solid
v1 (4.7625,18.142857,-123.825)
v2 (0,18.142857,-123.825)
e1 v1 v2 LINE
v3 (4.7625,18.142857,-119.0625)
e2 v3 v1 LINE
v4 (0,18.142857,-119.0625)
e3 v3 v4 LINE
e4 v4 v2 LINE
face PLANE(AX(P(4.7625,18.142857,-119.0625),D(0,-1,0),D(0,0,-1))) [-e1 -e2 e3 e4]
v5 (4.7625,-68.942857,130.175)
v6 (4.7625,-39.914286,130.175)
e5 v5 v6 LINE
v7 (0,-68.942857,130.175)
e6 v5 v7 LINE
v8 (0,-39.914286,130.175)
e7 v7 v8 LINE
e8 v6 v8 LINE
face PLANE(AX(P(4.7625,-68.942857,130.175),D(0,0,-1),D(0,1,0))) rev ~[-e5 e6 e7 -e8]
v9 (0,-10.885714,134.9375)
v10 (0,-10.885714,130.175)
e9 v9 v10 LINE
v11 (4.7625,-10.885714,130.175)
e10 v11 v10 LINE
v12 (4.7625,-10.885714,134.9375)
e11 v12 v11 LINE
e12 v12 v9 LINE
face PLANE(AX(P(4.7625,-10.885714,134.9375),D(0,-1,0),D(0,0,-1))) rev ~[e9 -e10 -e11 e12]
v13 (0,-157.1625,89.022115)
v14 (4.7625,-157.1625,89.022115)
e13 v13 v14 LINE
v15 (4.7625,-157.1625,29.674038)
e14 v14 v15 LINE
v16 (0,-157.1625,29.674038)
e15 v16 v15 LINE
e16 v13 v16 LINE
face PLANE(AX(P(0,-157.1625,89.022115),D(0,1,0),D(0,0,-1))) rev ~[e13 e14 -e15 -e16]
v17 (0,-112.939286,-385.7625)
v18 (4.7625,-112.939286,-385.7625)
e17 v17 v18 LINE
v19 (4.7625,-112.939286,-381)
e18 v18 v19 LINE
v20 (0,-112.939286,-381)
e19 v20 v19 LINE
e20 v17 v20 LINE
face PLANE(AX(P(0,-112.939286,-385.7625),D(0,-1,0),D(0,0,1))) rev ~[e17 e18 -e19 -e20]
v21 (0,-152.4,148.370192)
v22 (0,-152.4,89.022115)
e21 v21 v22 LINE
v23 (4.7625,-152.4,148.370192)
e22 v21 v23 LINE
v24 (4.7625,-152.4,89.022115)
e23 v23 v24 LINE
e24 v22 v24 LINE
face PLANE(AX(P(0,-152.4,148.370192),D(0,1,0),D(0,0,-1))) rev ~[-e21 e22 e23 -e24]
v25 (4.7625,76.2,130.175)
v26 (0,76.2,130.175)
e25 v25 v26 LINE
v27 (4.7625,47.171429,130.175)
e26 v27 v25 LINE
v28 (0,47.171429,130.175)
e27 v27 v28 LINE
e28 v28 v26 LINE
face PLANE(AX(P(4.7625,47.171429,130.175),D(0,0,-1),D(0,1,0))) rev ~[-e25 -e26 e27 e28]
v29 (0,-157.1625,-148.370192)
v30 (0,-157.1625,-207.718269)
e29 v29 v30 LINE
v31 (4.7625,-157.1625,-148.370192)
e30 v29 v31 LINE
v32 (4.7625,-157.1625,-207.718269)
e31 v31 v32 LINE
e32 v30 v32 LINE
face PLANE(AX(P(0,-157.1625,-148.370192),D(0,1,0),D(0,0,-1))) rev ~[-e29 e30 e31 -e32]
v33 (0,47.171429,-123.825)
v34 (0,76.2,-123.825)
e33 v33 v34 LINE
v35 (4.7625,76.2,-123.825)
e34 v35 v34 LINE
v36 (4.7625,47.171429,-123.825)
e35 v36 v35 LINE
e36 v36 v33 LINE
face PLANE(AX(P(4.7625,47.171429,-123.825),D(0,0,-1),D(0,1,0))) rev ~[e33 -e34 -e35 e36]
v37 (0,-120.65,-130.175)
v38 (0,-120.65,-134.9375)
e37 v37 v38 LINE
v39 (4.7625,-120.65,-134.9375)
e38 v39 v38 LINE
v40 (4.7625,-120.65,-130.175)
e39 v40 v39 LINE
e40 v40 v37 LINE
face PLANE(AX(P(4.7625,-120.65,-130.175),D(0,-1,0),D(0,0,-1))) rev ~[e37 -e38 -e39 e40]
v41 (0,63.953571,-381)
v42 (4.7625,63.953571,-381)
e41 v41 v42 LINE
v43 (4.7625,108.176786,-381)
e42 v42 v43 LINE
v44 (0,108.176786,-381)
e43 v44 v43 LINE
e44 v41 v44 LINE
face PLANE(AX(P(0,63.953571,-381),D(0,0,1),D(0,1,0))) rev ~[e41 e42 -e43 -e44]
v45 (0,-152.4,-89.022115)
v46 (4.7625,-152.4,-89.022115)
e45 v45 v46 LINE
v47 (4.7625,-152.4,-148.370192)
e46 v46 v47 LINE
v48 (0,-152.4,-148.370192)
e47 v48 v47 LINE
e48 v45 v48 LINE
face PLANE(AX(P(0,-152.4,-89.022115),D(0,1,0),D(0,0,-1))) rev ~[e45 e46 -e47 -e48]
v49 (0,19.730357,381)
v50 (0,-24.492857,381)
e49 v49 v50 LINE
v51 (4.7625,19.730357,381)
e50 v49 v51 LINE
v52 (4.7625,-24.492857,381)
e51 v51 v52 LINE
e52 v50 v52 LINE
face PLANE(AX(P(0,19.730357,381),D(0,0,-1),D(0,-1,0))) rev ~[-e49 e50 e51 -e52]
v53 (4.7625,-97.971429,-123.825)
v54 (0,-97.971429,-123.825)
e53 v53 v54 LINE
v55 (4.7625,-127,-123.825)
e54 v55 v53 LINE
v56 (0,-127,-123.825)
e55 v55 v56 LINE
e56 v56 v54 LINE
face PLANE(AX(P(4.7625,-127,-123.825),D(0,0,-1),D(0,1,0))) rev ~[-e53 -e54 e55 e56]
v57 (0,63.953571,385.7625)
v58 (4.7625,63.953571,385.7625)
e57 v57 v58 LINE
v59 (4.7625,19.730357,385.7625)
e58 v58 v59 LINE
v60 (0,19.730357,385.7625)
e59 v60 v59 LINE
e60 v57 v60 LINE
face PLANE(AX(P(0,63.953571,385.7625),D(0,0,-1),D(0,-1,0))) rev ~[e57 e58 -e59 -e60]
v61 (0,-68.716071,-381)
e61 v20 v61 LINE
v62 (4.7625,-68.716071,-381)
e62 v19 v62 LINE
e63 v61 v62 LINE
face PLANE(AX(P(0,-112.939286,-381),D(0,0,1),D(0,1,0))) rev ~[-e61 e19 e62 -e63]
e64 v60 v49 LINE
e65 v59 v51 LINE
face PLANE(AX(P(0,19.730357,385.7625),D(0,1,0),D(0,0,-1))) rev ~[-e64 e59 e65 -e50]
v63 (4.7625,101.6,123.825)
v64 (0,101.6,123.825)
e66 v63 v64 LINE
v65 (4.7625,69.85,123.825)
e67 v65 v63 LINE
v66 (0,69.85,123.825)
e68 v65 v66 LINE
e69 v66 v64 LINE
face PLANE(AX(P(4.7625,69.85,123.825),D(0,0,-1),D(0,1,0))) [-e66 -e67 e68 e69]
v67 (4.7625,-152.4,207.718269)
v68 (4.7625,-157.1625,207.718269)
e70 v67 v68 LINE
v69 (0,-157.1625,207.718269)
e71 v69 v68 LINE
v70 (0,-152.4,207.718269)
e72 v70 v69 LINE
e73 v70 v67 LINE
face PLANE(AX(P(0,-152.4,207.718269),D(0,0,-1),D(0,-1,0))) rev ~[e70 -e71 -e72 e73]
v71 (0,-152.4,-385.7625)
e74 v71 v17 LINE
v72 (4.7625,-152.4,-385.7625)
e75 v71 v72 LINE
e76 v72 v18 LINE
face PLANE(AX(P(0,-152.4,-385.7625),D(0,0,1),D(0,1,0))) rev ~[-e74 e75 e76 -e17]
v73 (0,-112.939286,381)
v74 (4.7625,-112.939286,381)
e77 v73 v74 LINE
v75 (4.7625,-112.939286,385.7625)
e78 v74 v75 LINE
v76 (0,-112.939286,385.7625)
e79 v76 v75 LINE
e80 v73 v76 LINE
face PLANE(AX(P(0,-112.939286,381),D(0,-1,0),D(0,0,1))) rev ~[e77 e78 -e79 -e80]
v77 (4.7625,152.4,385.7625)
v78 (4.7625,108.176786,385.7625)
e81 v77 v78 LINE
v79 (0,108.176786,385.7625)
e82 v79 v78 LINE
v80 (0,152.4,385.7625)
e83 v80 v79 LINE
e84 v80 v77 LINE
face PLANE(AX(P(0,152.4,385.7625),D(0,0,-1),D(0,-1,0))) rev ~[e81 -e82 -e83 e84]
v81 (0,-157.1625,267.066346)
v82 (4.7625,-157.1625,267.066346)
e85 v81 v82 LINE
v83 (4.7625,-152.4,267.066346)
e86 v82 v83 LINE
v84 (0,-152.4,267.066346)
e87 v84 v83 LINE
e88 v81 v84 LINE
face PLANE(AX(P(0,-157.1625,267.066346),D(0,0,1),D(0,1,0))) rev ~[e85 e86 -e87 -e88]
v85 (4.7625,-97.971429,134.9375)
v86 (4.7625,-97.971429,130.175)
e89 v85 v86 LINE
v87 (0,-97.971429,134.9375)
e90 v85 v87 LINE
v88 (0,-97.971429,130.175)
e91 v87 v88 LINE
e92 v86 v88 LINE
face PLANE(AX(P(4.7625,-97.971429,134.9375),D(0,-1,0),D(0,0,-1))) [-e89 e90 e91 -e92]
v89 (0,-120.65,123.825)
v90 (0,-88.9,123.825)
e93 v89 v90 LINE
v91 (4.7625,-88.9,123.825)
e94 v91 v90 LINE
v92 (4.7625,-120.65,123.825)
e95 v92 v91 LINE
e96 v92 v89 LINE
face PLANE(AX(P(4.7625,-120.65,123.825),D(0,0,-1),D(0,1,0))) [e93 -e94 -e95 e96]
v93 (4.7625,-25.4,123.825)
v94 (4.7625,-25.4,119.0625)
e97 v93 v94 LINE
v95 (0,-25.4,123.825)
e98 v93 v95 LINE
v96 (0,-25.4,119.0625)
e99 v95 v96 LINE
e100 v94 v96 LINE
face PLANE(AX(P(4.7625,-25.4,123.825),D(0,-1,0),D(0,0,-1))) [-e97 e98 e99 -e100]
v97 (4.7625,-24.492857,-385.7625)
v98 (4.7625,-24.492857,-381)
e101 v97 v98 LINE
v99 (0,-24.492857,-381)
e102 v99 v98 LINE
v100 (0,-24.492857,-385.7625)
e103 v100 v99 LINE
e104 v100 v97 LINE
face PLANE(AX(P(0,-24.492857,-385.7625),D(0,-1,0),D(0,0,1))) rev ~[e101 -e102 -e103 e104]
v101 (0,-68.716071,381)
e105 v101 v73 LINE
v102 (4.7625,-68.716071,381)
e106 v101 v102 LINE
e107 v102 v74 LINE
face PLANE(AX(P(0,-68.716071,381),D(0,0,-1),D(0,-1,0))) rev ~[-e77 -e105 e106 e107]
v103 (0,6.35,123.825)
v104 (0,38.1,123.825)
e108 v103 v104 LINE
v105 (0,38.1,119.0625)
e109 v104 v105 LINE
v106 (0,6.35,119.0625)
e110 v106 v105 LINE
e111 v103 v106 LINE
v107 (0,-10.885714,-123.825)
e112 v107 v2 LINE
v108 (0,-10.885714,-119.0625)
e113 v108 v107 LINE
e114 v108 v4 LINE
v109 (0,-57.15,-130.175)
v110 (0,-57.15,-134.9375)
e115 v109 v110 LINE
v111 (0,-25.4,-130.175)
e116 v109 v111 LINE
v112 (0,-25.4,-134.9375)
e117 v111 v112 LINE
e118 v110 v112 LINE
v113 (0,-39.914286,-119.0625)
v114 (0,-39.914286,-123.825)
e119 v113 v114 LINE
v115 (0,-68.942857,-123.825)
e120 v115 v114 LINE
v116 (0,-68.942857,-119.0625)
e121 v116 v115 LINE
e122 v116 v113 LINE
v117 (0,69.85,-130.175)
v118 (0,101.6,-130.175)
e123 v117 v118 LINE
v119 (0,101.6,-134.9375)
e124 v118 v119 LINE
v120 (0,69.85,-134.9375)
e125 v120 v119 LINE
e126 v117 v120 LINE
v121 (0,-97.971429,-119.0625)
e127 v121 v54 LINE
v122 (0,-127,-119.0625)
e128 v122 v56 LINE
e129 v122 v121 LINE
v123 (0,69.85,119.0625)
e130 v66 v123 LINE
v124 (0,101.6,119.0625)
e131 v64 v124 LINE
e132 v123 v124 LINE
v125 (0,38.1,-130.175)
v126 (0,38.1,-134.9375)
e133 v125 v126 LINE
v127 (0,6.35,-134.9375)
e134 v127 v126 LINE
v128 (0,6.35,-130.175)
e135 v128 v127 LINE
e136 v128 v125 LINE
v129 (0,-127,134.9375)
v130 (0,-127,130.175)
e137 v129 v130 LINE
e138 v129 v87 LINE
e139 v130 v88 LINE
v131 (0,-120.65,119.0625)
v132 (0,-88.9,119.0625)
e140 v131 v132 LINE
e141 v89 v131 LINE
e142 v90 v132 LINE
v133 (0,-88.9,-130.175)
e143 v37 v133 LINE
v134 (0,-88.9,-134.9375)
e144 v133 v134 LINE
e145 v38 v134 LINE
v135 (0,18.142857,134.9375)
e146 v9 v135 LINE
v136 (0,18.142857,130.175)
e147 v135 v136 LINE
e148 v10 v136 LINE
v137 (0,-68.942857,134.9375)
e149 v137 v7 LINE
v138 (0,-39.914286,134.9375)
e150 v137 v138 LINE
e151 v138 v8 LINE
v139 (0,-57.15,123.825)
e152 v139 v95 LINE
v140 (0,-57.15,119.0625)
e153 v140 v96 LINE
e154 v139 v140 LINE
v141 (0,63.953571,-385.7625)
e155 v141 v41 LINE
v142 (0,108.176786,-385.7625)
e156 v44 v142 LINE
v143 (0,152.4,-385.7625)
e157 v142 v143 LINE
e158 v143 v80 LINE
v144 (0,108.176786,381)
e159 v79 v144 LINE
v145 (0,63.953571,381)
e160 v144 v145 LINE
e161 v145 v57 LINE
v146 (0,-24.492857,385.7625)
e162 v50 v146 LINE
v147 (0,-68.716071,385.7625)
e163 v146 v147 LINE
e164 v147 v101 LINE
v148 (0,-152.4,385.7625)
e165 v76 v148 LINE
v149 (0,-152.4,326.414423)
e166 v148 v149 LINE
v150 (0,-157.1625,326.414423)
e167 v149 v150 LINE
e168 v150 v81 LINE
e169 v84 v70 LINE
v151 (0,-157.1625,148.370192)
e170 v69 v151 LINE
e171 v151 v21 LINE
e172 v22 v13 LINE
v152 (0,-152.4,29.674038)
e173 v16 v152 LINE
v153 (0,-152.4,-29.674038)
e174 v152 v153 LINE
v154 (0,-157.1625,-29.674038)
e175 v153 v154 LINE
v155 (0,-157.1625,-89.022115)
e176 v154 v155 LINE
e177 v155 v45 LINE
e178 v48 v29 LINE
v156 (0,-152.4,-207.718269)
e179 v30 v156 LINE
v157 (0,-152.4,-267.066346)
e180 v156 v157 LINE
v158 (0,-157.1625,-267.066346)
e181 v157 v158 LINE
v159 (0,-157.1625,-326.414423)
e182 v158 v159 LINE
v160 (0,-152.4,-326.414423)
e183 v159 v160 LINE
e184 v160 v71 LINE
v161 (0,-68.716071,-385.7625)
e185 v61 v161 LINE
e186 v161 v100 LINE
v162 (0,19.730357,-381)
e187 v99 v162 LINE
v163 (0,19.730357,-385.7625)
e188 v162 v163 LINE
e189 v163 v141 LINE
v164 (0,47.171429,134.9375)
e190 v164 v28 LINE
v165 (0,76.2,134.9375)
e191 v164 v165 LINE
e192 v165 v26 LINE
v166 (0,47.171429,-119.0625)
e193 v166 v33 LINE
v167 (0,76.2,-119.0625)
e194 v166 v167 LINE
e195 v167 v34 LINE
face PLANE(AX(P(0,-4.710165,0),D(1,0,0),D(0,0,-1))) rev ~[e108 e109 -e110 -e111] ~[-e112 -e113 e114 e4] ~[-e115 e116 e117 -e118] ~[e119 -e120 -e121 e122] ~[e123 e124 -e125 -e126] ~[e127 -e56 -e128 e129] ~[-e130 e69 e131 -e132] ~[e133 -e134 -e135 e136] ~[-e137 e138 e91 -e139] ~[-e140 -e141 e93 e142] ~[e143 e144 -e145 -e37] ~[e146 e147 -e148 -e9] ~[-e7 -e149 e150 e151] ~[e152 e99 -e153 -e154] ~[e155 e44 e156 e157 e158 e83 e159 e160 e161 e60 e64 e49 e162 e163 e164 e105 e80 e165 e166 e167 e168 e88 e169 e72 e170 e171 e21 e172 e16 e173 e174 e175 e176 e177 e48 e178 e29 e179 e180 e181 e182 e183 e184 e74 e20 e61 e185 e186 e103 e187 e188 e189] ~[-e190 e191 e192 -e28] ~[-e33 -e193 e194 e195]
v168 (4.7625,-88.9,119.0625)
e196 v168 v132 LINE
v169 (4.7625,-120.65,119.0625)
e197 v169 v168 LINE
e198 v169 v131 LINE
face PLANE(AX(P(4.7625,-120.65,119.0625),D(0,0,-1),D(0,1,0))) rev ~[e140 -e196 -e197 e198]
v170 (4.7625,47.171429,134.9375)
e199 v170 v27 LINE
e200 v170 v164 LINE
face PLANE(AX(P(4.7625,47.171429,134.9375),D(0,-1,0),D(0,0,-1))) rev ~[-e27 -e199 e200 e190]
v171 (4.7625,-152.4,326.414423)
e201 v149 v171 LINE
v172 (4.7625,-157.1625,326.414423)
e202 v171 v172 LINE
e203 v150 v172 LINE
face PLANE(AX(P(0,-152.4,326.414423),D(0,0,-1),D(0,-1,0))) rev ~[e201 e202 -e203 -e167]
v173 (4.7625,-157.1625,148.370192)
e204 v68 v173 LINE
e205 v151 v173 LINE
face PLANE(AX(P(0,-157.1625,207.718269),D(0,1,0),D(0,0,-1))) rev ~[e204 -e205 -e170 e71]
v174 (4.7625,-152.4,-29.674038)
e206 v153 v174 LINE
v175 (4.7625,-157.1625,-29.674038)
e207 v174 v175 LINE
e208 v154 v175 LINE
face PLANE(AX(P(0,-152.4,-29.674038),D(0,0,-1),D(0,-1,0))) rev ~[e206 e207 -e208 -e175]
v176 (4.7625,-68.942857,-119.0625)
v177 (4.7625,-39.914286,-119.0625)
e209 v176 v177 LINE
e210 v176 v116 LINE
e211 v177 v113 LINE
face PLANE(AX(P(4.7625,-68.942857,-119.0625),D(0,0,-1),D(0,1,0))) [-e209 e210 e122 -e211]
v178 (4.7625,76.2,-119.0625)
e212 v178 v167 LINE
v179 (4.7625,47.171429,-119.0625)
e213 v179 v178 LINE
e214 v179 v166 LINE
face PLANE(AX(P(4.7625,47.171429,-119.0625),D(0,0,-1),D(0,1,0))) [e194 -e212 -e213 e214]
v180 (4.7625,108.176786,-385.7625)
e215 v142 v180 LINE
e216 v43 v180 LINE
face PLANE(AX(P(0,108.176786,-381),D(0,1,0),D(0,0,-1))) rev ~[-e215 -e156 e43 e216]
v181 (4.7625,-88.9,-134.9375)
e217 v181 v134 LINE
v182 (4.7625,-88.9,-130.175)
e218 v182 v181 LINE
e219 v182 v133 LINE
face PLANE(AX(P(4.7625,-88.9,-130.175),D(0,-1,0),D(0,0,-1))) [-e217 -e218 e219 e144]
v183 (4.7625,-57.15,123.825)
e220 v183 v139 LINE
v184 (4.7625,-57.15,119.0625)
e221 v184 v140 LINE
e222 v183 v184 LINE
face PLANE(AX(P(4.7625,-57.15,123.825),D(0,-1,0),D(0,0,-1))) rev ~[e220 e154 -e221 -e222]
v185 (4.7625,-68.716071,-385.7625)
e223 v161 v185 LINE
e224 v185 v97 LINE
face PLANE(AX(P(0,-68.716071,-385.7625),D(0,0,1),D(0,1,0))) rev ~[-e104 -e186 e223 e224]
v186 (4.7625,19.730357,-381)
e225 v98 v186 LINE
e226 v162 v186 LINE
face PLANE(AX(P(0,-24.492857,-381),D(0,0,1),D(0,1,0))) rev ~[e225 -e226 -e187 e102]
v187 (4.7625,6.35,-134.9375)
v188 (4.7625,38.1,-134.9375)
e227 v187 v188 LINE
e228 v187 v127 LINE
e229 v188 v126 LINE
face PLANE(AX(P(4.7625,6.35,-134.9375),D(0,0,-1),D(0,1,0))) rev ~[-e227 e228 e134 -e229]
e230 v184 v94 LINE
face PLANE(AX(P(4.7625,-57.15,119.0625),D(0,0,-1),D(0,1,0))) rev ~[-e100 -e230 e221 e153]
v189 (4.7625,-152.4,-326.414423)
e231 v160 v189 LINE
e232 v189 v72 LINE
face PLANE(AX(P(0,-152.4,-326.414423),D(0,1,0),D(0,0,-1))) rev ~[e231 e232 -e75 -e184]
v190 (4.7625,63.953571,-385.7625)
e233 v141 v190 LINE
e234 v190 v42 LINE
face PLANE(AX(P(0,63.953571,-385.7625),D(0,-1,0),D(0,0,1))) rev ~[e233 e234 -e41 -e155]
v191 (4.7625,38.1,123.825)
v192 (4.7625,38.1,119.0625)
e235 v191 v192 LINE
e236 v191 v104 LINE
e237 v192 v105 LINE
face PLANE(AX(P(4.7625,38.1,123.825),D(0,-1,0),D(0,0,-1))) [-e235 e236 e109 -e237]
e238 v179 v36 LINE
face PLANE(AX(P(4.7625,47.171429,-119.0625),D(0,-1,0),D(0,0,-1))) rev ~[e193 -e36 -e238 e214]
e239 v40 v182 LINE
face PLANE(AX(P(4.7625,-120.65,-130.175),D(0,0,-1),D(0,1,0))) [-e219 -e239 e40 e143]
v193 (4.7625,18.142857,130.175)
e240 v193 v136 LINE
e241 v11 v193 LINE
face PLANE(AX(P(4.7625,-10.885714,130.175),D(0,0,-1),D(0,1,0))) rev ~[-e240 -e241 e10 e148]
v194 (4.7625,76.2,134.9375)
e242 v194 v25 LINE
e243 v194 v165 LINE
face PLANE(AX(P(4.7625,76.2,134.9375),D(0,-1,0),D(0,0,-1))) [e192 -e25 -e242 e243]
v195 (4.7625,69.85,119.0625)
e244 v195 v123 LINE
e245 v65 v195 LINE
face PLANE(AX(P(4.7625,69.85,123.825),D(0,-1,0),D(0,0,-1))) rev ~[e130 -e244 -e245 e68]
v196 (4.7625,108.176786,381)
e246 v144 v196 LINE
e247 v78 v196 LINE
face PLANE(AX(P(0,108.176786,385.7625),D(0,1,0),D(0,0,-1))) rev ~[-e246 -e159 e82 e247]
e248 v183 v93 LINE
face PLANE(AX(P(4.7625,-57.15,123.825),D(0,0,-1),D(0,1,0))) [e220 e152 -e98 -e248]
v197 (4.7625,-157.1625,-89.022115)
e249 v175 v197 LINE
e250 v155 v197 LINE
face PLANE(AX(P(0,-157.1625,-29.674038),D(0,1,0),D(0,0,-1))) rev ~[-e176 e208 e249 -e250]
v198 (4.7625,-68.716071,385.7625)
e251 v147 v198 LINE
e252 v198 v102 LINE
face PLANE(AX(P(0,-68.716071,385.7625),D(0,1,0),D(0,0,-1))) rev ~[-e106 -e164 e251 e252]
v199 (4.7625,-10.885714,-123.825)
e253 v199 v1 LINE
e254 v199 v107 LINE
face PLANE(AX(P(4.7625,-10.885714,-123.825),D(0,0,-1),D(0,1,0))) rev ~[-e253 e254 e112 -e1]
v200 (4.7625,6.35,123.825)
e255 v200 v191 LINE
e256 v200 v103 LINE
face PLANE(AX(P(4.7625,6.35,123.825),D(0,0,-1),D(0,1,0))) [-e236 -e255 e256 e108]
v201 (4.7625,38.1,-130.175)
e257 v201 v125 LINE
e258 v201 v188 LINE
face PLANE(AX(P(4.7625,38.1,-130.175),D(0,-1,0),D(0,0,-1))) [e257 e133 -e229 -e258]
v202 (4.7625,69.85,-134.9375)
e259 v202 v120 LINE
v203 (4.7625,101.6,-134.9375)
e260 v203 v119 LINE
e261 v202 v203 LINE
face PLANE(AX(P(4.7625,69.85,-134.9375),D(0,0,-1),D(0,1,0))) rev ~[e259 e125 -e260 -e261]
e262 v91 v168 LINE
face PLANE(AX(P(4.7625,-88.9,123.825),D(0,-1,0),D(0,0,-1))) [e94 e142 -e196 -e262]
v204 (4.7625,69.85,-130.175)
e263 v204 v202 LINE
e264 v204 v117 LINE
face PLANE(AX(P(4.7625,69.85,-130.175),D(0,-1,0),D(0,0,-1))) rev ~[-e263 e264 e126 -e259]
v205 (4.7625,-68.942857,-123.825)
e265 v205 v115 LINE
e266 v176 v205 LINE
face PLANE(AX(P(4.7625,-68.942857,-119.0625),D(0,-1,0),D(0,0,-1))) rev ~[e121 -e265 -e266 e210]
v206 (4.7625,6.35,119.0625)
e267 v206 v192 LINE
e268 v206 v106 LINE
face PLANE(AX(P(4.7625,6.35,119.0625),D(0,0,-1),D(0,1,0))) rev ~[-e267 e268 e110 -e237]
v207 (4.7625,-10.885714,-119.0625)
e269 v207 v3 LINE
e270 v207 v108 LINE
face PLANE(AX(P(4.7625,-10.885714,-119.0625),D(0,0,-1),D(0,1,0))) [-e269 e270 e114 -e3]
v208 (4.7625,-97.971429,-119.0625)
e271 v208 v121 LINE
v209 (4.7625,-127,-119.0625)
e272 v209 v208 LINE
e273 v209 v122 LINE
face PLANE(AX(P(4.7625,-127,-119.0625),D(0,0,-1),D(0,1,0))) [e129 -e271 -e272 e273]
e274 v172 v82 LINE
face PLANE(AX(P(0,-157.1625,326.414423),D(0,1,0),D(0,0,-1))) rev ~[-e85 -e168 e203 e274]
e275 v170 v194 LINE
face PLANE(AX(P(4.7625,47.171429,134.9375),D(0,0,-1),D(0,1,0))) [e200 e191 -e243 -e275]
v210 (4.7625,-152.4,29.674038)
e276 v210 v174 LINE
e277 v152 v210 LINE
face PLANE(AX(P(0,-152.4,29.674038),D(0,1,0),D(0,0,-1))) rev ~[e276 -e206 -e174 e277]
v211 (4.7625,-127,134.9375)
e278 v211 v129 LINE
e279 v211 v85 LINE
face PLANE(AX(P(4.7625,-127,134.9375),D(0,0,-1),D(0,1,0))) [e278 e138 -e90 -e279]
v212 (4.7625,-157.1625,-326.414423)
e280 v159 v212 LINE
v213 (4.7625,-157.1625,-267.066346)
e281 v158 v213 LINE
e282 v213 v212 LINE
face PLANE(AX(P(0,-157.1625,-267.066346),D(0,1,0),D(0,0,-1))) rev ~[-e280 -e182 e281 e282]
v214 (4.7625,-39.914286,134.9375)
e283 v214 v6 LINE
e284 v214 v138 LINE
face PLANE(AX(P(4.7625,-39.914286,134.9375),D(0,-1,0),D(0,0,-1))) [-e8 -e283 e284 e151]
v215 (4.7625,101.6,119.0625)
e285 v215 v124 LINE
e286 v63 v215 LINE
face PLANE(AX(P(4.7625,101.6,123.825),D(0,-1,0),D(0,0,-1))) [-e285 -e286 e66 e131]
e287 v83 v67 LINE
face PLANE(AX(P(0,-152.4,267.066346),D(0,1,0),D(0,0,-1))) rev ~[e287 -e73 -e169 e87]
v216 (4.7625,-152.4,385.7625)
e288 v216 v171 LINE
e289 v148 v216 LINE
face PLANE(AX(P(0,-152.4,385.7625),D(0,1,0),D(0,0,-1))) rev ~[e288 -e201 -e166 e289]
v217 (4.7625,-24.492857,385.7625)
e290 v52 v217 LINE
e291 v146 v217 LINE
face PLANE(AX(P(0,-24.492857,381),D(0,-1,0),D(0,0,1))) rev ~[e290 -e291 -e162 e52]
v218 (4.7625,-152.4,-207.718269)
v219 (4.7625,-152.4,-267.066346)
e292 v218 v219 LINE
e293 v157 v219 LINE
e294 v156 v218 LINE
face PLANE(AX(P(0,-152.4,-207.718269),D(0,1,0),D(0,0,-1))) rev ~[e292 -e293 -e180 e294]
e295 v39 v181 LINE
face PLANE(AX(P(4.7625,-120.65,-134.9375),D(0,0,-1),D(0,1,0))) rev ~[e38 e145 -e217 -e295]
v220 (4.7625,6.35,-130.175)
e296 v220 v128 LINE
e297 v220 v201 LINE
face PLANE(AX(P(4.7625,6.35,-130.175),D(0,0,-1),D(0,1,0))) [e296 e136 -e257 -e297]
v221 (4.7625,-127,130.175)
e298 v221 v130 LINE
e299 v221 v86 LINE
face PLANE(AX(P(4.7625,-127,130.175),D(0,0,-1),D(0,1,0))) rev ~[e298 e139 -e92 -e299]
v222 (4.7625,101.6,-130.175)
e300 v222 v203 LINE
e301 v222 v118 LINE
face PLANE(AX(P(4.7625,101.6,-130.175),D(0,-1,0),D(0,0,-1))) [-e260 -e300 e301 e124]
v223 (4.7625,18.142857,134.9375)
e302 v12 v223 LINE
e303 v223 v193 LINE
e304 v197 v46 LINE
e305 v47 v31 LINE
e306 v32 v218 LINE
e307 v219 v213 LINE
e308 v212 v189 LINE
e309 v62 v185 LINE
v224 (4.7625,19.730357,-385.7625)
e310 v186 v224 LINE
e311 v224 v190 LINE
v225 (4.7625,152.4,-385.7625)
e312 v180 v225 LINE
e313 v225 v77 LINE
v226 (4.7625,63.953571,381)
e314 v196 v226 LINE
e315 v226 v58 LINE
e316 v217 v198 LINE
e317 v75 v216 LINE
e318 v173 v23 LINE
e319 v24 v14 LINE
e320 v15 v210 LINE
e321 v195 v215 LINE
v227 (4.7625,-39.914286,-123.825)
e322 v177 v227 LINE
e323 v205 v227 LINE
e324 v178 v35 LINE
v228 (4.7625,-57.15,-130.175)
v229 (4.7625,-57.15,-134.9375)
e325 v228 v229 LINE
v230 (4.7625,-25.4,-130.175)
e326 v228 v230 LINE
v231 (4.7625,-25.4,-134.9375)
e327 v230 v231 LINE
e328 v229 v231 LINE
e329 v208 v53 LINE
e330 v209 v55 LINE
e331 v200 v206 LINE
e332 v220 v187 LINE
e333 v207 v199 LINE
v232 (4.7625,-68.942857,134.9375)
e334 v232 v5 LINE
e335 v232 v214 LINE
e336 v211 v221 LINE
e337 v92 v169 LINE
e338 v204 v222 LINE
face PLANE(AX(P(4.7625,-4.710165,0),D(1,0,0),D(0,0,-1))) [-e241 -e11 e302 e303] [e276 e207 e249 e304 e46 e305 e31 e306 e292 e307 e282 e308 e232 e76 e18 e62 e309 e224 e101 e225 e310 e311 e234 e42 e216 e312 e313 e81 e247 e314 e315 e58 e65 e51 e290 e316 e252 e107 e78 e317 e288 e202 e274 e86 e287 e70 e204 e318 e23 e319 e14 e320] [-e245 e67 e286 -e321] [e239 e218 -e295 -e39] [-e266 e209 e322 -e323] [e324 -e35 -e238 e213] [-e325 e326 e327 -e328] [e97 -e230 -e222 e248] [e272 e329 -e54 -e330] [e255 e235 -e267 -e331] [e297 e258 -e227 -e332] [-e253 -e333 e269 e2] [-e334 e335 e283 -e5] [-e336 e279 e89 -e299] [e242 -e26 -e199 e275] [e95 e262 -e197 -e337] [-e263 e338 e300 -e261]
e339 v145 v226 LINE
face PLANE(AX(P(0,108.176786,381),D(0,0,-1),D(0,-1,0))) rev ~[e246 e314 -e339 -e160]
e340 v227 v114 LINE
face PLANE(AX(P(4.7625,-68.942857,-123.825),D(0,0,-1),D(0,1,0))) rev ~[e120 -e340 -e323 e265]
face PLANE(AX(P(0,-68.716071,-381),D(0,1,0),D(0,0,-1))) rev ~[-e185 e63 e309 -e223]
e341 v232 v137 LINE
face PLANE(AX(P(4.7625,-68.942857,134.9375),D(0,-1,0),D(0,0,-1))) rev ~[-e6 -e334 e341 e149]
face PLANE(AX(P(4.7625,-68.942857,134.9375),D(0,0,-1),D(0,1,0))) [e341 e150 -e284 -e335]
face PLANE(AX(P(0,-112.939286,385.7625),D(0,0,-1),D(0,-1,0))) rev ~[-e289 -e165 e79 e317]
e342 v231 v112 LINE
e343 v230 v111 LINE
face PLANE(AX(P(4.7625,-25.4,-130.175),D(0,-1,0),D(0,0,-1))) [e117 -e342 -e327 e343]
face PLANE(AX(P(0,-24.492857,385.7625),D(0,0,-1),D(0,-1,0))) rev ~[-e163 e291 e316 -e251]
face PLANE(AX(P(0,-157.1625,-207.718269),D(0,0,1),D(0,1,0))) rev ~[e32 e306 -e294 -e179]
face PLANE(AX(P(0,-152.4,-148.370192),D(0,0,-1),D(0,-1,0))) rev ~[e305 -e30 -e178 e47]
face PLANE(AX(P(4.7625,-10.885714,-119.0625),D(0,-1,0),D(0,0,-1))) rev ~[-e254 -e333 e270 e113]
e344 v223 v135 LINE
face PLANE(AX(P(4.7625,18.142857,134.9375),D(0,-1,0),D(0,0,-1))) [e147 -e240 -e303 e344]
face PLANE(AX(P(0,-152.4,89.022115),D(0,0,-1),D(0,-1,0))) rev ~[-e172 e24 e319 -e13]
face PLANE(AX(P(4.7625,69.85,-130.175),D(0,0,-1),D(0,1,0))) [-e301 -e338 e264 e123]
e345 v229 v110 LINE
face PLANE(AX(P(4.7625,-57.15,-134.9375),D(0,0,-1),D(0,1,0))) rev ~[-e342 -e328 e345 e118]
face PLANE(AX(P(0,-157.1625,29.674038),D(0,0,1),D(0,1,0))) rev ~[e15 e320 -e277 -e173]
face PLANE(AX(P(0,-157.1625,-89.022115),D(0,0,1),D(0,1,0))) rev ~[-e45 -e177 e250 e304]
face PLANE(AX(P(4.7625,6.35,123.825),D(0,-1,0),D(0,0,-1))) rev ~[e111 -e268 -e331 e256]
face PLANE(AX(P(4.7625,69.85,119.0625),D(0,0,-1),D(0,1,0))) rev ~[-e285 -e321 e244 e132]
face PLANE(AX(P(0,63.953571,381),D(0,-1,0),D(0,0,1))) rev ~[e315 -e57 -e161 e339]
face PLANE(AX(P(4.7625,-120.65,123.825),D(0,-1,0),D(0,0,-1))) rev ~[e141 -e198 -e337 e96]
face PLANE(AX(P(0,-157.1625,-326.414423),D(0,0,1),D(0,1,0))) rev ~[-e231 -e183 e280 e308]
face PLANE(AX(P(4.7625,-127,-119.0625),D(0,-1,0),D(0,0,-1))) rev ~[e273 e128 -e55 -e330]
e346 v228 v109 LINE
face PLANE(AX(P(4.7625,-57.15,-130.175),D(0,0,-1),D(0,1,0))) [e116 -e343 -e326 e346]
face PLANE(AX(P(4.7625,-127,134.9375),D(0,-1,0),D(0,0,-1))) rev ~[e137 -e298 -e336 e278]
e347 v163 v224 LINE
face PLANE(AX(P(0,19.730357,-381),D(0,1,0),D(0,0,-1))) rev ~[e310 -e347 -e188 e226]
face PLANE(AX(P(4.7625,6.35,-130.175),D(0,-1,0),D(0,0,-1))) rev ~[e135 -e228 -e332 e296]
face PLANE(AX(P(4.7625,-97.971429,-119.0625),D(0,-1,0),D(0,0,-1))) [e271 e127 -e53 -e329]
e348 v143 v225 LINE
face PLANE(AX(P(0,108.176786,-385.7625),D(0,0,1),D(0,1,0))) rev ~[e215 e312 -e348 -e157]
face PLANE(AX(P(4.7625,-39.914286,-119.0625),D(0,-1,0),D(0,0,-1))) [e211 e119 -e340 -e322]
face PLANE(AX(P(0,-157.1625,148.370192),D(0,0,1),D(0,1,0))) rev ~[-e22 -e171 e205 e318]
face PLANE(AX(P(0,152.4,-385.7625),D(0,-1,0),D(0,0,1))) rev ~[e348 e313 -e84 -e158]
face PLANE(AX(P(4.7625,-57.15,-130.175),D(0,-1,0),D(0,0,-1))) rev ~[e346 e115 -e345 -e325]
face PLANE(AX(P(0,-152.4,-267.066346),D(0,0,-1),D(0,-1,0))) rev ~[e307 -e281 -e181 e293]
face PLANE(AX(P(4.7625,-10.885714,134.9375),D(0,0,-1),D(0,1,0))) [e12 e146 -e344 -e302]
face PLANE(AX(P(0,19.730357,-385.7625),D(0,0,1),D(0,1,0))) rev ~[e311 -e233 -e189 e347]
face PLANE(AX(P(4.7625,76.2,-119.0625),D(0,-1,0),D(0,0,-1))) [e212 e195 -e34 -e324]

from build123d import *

# Parameters (mm, degrees)
BOSS_EXTRUDE1_DEPTH = 4.7625
SKETCH3_W           = 4.7625
SKETCH3_H           = 31.75
SKETCH3_H_2         = 29.028571429
CUT_EXTRUDE1_DEPTH  = 417.575850499


with BuildPart() as part:
    # Sketch1 → Boss-Extrude1 (new body)
    with BuildSketch(Plane(origin=(0, 0, 0), x_dir=(0, 0, -1), z_dir=(1, 0, 0))):
        Polygon((381, 152.4), (-385.7625, 152.4), (-385.7625, 108.176785714), (-381, 108.176785714), (-381, 63.953571429), (-385.7625, 63.953571429), (-385.7625, 19.730357143), (-381, 19.730357143), (-381, -24.492857143), (-385.7625, -24.492857143), (-385.7625, -68.716071429), (-381, -68.716071429), (-381, -112.939285714), (-385.7625, -112.939285714), (-385.7625, -152.4), (-326.414423077, -152.4), (-326.414423077, -157.1625), (-267.066346154, -157.1625), (-267.066346154, -152.4), (-207.718269231, -152.4), (-207.718269231, -157.1625), (-148.370192308, -157.1625), (-148.370192308, -152.4), (-89.022115385, -152.4), (-89.022115385, -157.1625), (-29.674038462, -157.1625), (-29.674038462, -152.4), (29.674038462, -152.4), (29.674038462, -157.1625), (89.022115385, -157.1625), (89.022115385, -152.4), (148.370192308, -152.4), (148.370192308, -157.1625), (207.718269231, -157.1625), (207.718269231, -152.4), (267.066346154, -152.4), (267.066346154, -157.1625), (326.414423077, -157.1625), (326.414423077, -152.4), (385.7625, -152.4), (385.7625, -112.939285714), (381, -112.939285714), (381, -68.716071429), (385.7625, -68.716071429), (385.7625, -24.492857143), (381, -24.492857143), (381, 19.730357143), (385.7625, 19.730357143), (385.7625, 63.953571429), (381, 63.953571429), (381, 108.176785714), (385.7625, 108.176785714), (385.7625, 152.4), align=None)
    extrude(amount=BOSS_EXTRUDE1_DEPTH)

    # Sketch3 → Cut-Extrude1 (cut, through all)
    with BuildSketch(Plane(origin=(4.7625, 0, 0), x_dir=(0, 0, -1), z_dir=(1, 0, 0))):
        with Locations((-121.44375, -104.775)):
            Rectangle(SKETCH3_W, SKETCH3_H)
        with Locations((-121.44375, -41.275)):
            Rectangle(SKETCH3_W, SKETCH3_H)
        with Locations((-121.44375, 22.225)):
            Rectangle(SKETCH3_W, SKETCH3_H)
        with Locations((-121.44375, 85.725)):
            Rectangle(SKETCH3_W, SKETCH3_H)
        with Locations((-132.55625, 61.685714285)):
            Rectangle(SKETCH3_W, SKETCH3_H_2)
        with Locations((-132.55625, 3.628571428)):
            Rectangle(SKETCH3_W, SKETCH3_H_2)
        with Locations((-132.55625, -54.428571428)):
            Rectangle(SKETCH3_W, SKETCH3_H_2)
        with Locations((-132.55625, -112.485714286)):
            Rectangle(SKETCH3_W, SKETCH3_H_2)
        with Locations((132.55625, 85.725)):
            Rectangle(SKETCH3_W, SKETCH3_H)
        with Locations((121.44375, 61.685714285)):
            Rectangle(SKETCH3_W, SKETCH3_H_2)
        with Locations((132.55625, 22.225)):
            Rectangle(SKETCH3_W, SKETCH3_H)
        with Locations((121.44375, 3.628571428)):
            Rectangle(SKETCH3_W, SKETCH3_H_2)
        with Locations((132.55625, -41.275)):
            Rectangle(SKETCH3_W, SKETCH3_H)
        with Locations((121.44375, -54.428571428)):
            Rectangle(SKETCH3_W, SKETCH3_H_2)
        with Locations((132.55625, -104.775)):
            Rectangle(SKETCH3_W, SKETCH3_H)
        with Locations((121.44375, -112.485714286)):
            Rectangle(SKETCH3_W, SKETCH3_H_2)
    extrude(amount=-CUT_EXTRUDE1_DEPTH, mode=Mode.SUBTRACT)


solid = part.part
